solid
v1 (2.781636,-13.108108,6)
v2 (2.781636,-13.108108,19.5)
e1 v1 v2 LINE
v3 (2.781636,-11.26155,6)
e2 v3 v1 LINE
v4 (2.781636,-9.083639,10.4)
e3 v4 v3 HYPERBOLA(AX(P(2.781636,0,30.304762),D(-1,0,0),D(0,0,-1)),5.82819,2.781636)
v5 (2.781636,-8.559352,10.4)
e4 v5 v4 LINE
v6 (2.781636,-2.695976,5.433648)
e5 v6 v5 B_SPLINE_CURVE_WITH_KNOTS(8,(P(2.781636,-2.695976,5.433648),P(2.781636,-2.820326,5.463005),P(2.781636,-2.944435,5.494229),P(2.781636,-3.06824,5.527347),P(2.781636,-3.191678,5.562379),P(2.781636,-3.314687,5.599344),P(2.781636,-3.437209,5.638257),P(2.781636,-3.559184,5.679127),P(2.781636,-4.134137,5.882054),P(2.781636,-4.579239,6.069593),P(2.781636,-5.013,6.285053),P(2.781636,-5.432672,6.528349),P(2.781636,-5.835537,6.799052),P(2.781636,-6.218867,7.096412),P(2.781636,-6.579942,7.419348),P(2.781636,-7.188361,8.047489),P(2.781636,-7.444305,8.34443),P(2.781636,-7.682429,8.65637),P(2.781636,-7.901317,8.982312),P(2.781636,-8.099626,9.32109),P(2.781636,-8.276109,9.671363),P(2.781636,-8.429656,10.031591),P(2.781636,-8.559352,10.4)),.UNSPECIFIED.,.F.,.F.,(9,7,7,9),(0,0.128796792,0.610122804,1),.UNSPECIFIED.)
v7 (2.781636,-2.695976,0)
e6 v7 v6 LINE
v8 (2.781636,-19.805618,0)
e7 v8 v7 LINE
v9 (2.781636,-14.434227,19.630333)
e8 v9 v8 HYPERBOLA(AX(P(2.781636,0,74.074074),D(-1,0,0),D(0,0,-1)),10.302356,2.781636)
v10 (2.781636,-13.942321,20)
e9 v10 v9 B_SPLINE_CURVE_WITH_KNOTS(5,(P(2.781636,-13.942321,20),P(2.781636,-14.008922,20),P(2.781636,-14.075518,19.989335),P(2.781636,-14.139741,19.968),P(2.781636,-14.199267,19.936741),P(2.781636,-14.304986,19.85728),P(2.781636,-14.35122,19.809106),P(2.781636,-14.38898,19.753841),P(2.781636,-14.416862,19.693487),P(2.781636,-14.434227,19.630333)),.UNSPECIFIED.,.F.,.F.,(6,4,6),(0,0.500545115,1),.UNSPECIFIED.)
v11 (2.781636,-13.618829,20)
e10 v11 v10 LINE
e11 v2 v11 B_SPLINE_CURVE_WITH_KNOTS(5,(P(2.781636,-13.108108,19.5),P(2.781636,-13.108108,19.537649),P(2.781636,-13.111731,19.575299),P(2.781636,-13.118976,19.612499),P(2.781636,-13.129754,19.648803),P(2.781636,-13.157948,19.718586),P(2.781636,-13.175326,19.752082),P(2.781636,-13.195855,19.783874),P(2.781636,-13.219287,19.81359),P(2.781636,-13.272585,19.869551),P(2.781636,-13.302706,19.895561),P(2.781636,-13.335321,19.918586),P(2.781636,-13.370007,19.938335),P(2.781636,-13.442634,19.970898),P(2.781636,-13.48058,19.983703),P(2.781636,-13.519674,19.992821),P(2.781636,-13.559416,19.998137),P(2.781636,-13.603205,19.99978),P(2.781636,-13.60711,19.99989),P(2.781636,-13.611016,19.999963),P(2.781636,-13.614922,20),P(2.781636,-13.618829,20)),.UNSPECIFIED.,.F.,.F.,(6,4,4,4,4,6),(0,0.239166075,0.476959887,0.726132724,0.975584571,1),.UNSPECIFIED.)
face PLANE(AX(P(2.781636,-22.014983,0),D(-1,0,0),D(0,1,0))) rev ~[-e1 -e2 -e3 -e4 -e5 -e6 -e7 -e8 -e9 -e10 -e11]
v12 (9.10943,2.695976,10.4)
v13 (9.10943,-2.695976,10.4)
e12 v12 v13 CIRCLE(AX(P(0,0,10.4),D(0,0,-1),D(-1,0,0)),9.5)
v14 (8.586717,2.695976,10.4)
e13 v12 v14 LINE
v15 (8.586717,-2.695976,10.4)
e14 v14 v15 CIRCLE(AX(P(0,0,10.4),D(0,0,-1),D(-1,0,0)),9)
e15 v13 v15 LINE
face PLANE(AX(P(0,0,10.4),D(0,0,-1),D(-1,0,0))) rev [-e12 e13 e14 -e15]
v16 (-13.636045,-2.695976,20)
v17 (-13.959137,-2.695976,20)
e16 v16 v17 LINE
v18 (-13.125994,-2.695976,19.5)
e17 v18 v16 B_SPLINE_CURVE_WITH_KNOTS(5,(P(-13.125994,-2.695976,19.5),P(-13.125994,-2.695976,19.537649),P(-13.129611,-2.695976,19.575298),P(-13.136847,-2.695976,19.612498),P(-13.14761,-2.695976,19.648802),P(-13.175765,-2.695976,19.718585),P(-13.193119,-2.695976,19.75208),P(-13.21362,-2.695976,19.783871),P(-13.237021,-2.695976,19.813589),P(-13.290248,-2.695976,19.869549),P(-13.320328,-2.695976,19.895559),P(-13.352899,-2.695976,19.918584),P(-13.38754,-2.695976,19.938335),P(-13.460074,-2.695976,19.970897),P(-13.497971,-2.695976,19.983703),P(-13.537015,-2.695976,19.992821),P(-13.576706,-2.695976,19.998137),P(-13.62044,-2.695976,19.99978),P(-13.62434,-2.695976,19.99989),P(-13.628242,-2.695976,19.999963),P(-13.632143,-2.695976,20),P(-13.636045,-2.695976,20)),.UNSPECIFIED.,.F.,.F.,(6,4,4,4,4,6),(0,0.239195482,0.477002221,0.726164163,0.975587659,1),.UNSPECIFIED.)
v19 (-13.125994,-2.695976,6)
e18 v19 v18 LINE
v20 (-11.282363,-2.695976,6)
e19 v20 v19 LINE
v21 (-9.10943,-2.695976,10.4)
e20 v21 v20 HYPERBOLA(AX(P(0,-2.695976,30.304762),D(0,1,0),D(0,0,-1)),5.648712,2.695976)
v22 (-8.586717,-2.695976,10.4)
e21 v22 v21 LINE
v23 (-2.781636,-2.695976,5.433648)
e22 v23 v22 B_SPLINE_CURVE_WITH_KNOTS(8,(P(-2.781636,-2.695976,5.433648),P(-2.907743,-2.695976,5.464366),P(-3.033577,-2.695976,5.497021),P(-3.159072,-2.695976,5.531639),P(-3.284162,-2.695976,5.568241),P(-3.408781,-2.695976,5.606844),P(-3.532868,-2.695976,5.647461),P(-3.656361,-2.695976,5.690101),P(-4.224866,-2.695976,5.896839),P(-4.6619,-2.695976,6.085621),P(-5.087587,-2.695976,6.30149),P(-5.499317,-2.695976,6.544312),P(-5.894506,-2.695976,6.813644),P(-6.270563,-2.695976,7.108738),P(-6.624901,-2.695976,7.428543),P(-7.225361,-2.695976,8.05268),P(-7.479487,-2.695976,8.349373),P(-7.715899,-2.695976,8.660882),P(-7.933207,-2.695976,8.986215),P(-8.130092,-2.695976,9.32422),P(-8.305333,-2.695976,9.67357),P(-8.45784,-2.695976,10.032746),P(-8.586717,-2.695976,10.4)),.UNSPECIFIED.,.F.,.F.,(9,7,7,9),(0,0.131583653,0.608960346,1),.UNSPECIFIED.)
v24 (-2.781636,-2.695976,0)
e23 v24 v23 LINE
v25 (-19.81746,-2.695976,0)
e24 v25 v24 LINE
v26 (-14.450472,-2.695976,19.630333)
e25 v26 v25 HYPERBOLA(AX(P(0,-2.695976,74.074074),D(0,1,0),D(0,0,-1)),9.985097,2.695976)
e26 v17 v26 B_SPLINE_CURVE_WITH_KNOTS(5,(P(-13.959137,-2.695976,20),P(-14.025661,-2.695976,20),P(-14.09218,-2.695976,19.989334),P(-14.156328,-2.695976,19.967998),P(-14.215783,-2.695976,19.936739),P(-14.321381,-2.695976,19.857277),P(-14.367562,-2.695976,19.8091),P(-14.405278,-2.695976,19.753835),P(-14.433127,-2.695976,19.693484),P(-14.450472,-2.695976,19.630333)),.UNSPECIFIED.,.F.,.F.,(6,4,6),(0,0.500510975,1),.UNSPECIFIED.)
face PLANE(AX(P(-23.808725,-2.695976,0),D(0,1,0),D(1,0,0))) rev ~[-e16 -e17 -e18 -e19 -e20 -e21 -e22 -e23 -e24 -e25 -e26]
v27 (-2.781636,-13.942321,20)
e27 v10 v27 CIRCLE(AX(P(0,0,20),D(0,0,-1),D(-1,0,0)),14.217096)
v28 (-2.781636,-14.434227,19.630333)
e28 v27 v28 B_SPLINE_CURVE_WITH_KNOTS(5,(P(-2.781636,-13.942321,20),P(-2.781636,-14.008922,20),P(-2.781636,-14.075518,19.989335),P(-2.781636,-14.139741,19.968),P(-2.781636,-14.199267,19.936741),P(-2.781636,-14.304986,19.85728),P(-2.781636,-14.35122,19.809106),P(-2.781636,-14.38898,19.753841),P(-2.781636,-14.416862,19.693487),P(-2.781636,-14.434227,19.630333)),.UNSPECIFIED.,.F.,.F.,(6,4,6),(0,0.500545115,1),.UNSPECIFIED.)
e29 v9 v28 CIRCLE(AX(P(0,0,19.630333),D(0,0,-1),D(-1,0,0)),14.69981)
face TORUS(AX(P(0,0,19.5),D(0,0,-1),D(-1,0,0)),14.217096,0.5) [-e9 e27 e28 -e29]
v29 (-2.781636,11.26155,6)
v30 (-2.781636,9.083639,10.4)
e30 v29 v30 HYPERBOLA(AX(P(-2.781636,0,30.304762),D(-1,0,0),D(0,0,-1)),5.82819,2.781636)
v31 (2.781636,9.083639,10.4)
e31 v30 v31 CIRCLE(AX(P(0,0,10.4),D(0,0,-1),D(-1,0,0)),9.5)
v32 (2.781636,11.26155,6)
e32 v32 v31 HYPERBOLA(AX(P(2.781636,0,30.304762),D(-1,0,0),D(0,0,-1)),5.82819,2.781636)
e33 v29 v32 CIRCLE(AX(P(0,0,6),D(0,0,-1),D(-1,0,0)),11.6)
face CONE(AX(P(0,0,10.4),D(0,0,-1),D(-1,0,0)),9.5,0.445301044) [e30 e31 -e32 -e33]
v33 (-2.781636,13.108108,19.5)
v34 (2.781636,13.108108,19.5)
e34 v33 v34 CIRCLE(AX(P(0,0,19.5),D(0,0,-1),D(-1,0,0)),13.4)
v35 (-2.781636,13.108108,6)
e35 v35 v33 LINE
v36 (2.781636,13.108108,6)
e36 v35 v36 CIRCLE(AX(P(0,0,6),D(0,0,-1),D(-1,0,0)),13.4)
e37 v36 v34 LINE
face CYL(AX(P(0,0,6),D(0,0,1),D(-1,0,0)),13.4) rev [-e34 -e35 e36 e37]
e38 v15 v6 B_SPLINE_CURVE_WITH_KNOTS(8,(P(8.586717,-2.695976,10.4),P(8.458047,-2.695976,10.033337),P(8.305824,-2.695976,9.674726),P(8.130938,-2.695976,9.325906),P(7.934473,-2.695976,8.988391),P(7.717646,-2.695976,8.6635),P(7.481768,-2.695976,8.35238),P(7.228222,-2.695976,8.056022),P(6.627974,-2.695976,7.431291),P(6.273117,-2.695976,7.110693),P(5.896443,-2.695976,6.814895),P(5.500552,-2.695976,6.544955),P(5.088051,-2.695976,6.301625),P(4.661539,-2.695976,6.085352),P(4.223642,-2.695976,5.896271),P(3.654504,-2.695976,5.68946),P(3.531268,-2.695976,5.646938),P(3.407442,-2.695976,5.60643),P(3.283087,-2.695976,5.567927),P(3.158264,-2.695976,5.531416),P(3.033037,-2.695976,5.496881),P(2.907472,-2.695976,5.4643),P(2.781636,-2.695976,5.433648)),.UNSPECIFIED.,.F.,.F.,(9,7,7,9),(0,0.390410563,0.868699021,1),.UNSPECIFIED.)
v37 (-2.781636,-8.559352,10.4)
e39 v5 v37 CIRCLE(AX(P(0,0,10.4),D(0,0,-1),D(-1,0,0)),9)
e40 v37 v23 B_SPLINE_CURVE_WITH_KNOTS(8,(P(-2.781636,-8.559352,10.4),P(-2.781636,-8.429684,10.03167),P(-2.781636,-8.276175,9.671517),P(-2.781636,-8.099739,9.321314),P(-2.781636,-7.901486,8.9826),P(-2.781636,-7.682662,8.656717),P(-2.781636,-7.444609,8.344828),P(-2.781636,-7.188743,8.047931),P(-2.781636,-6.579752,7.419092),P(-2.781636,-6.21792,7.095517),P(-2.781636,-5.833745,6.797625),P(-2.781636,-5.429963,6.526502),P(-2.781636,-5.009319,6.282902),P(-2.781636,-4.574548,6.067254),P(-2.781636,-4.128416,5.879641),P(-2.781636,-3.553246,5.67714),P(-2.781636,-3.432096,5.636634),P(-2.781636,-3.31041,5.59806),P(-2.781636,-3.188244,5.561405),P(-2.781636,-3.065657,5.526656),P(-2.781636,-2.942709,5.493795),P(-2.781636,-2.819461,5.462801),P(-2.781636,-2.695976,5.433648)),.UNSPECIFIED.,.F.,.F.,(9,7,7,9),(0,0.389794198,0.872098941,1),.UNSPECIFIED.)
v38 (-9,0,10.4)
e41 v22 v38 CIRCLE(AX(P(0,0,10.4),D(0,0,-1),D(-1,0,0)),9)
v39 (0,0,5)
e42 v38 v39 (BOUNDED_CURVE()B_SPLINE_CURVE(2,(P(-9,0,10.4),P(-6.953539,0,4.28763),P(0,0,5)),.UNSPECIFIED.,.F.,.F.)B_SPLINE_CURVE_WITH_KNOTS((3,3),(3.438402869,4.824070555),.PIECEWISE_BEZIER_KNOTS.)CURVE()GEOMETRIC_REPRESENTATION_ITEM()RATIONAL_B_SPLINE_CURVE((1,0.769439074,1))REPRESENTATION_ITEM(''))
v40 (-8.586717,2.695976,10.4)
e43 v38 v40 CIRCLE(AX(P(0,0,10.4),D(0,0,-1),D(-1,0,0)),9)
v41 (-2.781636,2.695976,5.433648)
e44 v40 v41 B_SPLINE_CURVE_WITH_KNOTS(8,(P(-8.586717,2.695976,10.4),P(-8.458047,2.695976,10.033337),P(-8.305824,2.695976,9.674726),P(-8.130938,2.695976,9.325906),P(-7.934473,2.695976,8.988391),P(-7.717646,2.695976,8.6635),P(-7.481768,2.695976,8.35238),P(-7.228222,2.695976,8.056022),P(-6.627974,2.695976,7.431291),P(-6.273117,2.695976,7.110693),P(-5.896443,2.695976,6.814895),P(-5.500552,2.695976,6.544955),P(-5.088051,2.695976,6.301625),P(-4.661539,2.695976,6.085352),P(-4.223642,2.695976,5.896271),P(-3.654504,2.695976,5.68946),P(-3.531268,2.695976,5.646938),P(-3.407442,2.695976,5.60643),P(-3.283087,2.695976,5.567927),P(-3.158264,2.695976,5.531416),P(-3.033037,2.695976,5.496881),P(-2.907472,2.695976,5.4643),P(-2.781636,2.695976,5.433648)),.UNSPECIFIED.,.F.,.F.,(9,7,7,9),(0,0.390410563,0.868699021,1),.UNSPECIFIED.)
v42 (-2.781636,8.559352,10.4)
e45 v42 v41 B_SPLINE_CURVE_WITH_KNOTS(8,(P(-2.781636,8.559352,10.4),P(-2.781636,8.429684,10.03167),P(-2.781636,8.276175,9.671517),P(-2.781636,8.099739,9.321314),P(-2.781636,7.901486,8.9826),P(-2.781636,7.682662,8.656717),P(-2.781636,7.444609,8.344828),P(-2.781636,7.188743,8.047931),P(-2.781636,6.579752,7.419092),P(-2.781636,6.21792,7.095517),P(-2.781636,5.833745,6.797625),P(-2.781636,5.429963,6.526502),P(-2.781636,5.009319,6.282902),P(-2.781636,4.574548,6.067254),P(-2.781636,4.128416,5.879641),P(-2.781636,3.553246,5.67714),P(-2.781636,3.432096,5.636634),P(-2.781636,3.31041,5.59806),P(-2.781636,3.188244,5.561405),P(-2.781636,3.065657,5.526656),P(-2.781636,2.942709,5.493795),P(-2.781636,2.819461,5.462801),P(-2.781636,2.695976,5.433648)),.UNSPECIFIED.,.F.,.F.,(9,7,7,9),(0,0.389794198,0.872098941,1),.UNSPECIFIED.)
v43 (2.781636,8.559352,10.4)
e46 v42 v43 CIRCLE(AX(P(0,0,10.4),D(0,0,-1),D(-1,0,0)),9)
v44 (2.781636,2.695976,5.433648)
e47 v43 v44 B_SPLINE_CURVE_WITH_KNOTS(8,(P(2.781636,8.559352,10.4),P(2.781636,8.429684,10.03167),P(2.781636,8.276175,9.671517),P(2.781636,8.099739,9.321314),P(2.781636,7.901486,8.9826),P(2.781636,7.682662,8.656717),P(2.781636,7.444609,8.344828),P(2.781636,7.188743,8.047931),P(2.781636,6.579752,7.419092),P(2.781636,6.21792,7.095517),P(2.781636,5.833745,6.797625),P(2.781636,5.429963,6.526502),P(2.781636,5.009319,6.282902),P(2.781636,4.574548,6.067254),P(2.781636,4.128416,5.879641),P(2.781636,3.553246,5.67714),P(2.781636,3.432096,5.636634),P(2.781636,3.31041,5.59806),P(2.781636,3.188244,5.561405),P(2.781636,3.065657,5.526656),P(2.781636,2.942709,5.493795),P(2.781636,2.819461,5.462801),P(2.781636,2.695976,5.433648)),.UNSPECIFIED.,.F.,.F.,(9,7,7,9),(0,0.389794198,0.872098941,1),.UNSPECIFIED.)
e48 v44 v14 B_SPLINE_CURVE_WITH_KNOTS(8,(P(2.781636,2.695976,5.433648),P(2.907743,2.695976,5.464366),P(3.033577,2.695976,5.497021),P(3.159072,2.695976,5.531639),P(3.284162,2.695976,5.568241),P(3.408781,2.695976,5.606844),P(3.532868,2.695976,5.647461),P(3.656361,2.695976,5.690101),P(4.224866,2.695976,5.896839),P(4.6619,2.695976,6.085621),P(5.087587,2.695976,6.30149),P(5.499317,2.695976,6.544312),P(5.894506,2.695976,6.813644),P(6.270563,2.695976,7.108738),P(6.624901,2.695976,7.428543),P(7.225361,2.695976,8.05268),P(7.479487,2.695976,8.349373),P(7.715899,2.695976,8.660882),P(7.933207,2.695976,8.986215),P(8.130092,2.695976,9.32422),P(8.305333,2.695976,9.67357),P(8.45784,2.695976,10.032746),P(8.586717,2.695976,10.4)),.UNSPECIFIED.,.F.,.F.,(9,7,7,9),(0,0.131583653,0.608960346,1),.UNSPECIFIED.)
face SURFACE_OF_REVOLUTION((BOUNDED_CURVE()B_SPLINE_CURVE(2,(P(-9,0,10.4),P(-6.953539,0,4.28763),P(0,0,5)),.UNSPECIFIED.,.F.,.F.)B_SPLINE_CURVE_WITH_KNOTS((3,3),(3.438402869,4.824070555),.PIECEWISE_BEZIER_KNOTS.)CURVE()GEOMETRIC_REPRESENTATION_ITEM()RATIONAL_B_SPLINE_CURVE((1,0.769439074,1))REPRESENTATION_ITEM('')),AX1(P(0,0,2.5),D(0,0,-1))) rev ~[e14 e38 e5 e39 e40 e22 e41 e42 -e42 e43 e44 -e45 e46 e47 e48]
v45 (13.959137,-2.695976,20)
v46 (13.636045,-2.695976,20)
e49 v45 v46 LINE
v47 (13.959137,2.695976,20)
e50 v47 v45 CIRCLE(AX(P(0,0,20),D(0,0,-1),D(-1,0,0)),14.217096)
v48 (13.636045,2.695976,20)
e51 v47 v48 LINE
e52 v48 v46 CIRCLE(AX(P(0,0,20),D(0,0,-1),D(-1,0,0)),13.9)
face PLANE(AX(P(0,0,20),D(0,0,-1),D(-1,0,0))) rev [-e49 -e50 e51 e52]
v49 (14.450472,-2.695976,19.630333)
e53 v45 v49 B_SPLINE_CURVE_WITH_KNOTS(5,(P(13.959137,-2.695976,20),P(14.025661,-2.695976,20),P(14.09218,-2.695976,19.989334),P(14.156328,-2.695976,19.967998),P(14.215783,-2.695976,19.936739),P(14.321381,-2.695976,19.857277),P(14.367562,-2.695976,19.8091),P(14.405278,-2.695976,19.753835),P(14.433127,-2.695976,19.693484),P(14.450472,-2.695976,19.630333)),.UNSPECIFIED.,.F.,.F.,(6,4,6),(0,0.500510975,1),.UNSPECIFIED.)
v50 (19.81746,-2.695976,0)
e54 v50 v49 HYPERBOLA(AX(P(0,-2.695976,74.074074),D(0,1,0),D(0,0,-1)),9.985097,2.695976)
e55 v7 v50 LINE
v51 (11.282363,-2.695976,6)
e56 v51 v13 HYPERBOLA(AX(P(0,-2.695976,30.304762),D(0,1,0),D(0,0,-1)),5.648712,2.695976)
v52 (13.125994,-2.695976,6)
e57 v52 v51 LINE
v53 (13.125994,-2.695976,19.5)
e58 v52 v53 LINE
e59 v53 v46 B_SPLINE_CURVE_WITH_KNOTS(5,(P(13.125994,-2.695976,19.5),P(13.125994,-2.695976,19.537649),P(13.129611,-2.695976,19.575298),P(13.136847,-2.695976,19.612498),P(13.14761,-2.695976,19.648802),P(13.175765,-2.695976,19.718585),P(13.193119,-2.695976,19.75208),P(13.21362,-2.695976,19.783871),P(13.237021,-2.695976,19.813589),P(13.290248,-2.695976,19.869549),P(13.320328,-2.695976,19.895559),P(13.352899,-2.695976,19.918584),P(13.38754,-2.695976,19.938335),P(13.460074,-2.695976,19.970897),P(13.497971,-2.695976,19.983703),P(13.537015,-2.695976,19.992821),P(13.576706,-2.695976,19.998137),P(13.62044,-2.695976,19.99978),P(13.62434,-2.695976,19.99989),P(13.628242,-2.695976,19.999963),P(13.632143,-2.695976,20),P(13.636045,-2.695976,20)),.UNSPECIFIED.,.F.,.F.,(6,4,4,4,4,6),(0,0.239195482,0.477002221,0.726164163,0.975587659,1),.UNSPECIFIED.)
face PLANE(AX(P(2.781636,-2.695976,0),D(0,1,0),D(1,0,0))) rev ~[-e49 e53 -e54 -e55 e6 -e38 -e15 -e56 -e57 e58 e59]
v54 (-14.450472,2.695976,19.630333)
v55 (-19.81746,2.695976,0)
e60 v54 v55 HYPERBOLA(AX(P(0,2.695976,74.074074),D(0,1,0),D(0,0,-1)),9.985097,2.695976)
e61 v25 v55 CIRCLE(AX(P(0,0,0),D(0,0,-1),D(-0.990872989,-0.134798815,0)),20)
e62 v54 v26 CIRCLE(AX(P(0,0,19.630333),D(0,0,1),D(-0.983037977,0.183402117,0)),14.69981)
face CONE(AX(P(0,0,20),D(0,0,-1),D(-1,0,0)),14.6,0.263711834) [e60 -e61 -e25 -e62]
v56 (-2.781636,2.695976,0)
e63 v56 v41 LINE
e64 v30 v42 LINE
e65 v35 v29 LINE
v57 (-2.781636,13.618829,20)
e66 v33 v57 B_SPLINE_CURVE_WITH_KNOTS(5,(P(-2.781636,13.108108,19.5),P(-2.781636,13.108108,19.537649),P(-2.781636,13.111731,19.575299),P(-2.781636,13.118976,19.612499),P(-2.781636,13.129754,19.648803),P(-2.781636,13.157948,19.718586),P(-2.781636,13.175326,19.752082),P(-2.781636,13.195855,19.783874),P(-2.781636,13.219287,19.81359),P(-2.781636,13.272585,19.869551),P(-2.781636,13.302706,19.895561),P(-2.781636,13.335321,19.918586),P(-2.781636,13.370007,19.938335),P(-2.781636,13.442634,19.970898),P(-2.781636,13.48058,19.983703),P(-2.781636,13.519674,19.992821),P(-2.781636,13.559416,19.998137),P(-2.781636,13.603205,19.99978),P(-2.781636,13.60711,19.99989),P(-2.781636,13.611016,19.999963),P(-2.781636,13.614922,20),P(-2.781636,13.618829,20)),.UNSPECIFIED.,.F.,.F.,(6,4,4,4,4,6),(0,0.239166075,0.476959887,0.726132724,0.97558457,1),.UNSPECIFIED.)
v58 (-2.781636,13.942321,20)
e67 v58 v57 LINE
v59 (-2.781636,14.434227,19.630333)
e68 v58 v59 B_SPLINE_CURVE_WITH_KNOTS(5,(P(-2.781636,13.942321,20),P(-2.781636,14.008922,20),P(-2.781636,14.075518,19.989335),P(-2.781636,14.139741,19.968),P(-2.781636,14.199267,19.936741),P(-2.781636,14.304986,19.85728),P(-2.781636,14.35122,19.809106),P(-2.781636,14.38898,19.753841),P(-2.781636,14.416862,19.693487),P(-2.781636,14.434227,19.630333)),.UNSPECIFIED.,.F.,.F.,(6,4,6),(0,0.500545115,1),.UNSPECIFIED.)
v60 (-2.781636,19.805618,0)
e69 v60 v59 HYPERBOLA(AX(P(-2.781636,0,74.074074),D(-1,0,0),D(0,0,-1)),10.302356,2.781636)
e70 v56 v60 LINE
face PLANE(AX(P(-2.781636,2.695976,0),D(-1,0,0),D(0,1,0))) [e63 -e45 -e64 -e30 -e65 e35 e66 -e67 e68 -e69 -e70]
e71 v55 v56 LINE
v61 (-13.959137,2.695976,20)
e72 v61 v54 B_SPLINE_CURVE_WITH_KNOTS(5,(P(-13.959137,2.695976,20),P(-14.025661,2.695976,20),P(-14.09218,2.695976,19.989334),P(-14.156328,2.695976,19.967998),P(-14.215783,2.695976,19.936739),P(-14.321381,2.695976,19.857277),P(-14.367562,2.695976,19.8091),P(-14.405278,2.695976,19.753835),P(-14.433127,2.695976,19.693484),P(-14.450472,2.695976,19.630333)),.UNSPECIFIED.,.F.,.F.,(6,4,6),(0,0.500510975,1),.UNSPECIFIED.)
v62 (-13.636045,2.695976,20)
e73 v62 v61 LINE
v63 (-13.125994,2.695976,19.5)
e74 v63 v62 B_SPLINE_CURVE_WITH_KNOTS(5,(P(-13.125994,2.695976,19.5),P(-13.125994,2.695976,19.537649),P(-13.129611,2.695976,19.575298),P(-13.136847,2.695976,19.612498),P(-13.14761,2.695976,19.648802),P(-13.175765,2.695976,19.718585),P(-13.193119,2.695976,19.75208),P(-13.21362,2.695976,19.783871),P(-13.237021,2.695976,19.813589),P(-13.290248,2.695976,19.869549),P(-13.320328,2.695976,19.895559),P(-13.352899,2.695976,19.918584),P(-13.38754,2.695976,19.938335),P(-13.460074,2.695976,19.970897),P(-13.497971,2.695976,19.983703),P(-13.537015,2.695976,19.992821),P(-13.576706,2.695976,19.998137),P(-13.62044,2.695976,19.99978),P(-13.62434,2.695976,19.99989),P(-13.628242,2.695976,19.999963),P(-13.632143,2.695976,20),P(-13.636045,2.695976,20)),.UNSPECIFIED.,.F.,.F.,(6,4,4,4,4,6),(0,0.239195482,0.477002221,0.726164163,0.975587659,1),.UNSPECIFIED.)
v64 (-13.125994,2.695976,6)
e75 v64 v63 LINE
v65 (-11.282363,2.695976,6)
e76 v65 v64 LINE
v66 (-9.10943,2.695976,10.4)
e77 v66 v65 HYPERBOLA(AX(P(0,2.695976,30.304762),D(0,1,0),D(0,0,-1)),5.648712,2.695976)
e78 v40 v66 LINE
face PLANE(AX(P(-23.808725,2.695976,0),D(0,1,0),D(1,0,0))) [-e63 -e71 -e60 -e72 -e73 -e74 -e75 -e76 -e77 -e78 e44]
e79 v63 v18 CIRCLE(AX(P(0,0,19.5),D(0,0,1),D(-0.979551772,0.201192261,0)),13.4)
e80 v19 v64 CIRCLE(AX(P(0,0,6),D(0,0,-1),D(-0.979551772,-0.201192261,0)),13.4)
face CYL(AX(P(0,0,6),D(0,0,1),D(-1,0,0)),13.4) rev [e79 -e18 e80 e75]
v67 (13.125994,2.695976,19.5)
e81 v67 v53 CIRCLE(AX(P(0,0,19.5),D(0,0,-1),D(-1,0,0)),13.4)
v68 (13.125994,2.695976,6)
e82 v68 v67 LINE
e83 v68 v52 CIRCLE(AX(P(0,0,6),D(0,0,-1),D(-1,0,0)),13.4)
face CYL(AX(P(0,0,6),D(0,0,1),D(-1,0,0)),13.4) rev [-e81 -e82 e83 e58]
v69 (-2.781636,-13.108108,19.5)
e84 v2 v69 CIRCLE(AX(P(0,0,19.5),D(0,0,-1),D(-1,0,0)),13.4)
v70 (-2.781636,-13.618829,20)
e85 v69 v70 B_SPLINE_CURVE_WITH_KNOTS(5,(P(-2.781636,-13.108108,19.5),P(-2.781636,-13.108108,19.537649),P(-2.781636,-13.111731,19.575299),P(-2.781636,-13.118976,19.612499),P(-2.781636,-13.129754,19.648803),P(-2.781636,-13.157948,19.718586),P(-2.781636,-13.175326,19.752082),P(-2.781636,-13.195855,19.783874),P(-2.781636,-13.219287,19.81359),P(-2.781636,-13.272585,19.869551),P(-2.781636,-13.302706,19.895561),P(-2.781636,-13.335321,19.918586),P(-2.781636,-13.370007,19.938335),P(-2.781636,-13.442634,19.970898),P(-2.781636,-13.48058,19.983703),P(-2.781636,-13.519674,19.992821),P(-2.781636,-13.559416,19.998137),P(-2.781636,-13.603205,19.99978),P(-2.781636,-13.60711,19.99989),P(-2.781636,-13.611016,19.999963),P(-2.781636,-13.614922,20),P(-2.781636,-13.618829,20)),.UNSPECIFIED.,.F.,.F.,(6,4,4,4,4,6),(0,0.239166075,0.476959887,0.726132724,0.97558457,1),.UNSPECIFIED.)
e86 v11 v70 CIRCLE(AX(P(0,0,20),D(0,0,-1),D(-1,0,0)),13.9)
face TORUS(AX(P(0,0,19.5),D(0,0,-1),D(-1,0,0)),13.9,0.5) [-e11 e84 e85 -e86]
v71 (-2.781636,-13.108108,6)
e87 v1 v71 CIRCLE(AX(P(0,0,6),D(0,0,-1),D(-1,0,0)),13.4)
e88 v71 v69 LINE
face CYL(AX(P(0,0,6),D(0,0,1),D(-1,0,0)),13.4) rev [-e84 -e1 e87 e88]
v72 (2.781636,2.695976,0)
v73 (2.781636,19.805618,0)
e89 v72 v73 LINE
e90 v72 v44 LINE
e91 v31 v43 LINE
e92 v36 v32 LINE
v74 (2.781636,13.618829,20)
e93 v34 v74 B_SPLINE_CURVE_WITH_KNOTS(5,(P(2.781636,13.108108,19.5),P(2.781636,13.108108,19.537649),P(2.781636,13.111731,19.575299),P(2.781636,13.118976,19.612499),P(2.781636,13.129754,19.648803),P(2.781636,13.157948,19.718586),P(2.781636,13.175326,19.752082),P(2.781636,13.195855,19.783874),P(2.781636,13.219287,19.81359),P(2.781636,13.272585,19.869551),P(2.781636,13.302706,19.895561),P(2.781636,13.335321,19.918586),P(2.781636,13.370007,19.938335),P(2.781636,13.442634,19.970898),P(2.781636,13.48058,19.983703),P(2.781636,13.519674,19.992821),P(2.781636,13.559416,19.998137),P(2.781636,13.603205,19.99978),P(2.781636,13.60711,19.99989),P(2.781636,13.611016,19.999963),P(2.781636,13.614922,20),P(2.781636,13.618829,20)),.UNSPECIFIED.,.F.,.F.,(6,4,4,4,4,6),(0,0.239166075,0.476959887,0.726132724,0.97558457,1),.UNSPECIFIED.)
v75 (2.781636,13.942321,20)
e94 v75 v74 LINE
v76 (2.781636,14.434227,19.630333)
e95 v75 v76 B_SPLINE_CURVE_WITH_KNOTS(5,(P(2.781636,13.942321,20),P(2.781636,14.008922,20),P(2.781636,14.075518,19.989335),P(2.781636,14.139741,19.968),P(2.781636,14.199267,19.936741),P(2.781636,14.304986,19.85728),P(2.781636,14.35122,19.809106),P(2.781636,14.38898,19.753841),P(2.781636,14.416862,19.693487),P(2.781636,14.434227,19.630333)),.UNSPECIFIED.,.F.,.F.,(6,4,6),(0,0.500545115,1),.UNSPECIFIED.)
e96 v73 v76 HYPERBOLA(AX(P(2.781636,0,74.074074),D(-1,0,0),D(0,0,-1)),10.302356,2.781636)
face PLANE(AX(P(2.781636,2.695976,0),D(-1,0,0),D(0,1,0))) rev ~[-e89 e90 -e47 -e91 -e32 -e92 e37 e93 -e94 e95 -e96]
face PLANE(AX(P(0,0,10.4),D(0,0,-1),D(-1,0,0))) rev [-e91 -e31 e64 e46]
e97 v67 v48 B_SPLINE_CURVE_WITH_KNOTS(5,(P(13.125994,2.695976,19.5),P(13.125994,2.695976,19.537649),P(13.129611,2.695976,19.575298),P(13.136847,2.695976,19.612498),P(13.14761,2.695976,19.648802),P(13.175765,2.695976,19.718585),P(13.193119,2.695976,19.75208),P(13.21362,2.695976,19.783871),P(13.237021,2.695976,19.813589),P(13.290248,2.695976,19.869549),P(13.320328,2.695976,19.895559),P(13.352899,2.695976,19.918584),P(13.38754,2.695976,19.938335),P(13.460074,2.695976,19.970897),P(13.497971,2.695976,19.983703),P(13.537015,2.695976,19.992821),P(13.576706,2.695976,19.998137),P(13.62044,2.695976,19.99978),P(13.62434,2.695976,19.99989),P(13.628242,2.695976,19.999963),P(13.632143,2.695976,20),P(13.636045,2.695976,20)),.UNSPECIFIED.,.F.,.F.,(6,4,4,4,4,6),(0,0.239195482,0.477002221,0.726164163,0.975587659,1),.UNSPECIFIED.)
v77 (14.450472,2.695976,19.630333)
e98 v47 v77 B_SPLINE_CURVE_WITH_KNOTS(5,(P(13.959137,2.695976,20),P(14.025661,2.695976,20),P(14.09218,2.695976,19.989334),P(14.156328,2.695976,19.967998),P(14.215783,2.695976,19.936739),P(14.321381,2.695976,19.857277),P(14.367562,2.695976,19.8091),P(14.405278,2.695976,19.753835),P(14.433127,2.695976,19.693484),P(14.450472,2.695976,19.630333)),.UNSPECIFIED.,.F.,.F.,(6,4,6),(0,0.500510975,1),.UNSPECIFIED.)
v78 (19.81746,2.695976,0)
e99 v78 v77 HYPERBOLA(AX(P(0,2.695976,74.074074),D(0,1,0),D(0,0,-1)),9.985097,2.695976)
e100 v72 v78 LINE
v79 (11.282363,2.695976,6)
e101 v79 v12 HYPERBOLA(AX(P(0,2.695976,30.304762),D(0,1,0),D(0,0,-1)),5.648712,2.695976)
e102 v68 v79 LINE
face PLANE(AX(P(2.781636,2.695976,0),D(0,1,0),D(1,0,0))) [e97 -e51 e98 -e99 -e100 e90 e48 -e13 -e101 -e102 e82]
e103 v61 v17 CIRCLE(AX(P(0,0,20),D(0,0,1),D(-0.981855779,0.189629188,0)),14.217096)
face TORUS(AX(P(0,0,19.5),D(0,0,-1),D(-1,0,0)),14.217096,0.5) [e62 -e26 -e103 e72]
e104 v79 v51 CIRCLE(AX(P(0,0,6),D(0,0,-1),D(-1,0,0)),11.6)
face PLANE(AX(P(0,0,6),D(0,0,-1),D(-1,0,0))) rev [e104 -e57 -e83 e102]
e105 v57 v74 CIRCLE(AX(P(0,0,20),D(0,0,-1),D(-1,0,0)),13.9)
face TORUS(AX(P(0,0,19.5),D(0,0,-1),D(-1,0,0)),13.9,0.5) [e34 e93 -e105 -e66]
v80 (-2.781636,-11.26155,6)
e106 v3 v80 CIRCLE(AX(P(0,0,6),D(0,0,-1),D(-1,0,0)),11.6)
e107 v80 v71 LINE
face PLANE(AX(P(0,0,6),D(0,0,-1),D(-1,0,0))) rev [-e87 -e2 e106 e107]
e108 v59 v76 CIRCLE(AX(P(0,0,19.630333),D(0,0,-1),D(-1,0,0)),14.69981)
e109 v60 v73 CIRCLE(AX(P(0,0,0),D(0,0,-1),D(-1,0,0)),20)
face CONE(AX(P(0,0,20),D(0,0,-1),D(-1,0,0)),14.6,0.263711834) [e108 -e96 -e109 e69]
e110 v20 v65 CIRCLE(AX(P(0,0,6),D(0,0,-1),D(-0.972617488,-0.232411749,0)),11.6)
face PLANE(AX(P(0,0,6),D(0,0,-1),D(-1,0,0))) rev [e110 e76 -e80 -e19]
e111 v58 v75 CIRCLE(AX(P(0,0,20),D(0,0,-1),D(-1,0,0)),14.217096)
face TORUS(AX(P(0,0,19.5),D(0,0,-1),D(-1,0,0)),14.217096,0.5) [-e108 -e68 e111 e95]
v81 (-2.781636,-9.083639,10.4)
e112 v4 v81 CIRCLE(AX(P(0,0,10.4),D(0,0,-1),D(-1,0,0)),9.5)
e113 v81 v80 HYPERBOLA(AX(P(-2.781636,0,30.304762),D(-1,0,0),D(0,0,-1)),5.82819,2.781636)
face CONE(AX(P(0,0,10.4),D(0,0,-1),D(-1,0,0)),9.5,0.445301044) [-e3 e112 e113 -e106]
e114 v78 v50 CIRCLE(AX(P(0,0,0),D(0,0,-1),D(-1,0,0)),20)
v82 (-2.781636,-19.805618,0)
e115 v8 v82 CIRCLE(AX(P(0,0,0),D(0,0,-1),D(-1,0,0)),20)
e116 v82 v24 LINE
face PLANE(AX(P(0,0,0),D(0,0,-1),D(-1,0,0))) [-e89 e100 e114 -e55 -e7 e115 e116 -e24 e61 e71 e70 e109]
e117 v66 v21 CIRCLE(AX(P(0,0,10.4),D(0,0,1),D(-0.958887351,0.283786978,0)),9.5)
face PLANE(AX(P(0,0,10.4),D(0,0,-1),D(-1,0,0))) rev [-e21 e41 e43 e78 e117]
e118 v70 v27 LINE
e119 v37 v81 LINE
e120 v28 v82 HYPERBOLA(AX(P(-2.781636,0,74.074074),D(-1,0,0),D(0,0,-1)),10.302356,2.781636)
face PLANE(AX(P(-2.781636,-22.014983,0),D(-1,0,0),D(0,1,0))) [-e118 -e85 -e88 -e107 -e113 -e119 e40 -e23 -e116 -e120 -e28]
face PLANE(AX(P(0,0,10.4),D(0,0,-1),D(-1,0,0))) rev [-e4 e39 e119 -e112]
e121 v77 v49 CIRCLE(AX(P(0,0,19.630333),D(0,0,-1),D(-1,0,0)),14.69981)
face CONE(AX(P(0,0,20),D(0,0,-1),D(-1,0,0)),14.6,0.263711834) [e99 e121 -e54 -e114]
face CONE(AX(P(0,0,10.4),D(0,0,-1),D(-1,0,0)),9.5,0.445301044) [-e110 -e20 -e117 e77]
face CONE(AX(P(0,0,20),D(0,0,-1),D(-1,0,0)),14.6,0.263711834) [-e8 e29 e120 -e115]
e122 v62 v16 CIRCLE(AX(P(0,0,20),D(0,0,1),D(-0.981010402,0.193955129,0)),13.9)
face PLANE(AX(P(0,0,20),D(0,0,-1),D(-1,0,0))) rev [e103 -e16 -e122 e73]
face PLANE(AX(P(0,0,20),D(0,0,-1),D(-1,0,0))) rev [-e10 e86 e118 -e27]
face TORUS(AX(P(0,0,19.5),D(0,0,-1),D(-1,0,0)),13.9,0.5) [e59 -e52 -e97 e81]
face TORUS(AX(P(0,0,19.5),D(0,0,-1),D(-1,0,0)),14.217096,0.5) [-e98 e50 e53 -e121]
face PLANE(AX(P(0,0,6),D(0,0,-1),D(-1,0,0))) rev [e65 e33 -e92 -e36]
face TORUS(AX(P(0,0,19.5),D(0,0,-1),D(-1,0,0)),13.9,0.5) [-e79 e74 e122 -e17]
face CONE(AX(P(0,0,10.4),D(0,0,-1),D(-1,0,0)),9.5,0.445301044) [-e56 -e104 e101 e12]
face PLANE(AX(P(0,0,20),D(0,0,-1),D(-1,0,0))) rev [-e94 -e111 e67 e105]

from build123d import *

# Parameters (mm, degrees)
F2_R     = 0.5
F3_W     = 21.0270890966
F3_H     = 19.3190067075
F4_DEPTH = 25


with BuildPart() as f1:
    # F0 (on Front) → F1 (revolve)
    with BuildSketch(Plane.XZ):
        with BuildLine():
            Line((-20, 0), (0, 0))
            Line((0, 0), (0, 5))
            add(Edge.make_bspline(
                [(-9, 10.4), (-6.953539399, 4.2876302106), (0, 5)],
                knots=[3.4384028692, 3.4384028692, 3.4384028692, 4.8240705554, 4.8240705554, 4.8240705554], degree=2, weights=[1, 0.7694390741, 1]))
            Line((-9, 10.4), (-9.5, 10.4))
            Line((-9.5, 10.4), (-11.6, 6))
            Line((-11.6, 6), (-13.4, 6))
            Line((-13.4, 6), (-13.4, 20))
            Line((-13.4, 20), (-14.6, 20))
            Line((-14.6, 20), (-20, 0))
        make_face()
    revolve(axis=Axis((0, 0, 2.5), (0, 0, -1)))

    # F2
    f2_edges = [f1.edges().sort_by_distance(p)[0] for p in [
        (14.6, 0, 20),
        (13.4, 0, 20),
    ]]
    fillet(f2_edges, radius=F2_R)

    # F3 (on Top) → F4 (cut)
    with BuildSketch(Plane.XY):
        with Locations((-13.2951806299, 12.3554796446)):
            Rectangle(F3_W, F3_H)
        with Locations((13.2951806299, 12.3554796446)):
            Rectangle(F3_W, F3_H)
        with Locations((-13.2951806299, -12.3554796446)):
            Rectangle(F3_W, F3_H)
        with Locations((13.2951806299, -12.3554796446)):
            Rectangle(F3_W, F3_H)
    extrude(amount=F4_DEPTH, mode=Mode.SUBTRACT)


solid = f1.part
